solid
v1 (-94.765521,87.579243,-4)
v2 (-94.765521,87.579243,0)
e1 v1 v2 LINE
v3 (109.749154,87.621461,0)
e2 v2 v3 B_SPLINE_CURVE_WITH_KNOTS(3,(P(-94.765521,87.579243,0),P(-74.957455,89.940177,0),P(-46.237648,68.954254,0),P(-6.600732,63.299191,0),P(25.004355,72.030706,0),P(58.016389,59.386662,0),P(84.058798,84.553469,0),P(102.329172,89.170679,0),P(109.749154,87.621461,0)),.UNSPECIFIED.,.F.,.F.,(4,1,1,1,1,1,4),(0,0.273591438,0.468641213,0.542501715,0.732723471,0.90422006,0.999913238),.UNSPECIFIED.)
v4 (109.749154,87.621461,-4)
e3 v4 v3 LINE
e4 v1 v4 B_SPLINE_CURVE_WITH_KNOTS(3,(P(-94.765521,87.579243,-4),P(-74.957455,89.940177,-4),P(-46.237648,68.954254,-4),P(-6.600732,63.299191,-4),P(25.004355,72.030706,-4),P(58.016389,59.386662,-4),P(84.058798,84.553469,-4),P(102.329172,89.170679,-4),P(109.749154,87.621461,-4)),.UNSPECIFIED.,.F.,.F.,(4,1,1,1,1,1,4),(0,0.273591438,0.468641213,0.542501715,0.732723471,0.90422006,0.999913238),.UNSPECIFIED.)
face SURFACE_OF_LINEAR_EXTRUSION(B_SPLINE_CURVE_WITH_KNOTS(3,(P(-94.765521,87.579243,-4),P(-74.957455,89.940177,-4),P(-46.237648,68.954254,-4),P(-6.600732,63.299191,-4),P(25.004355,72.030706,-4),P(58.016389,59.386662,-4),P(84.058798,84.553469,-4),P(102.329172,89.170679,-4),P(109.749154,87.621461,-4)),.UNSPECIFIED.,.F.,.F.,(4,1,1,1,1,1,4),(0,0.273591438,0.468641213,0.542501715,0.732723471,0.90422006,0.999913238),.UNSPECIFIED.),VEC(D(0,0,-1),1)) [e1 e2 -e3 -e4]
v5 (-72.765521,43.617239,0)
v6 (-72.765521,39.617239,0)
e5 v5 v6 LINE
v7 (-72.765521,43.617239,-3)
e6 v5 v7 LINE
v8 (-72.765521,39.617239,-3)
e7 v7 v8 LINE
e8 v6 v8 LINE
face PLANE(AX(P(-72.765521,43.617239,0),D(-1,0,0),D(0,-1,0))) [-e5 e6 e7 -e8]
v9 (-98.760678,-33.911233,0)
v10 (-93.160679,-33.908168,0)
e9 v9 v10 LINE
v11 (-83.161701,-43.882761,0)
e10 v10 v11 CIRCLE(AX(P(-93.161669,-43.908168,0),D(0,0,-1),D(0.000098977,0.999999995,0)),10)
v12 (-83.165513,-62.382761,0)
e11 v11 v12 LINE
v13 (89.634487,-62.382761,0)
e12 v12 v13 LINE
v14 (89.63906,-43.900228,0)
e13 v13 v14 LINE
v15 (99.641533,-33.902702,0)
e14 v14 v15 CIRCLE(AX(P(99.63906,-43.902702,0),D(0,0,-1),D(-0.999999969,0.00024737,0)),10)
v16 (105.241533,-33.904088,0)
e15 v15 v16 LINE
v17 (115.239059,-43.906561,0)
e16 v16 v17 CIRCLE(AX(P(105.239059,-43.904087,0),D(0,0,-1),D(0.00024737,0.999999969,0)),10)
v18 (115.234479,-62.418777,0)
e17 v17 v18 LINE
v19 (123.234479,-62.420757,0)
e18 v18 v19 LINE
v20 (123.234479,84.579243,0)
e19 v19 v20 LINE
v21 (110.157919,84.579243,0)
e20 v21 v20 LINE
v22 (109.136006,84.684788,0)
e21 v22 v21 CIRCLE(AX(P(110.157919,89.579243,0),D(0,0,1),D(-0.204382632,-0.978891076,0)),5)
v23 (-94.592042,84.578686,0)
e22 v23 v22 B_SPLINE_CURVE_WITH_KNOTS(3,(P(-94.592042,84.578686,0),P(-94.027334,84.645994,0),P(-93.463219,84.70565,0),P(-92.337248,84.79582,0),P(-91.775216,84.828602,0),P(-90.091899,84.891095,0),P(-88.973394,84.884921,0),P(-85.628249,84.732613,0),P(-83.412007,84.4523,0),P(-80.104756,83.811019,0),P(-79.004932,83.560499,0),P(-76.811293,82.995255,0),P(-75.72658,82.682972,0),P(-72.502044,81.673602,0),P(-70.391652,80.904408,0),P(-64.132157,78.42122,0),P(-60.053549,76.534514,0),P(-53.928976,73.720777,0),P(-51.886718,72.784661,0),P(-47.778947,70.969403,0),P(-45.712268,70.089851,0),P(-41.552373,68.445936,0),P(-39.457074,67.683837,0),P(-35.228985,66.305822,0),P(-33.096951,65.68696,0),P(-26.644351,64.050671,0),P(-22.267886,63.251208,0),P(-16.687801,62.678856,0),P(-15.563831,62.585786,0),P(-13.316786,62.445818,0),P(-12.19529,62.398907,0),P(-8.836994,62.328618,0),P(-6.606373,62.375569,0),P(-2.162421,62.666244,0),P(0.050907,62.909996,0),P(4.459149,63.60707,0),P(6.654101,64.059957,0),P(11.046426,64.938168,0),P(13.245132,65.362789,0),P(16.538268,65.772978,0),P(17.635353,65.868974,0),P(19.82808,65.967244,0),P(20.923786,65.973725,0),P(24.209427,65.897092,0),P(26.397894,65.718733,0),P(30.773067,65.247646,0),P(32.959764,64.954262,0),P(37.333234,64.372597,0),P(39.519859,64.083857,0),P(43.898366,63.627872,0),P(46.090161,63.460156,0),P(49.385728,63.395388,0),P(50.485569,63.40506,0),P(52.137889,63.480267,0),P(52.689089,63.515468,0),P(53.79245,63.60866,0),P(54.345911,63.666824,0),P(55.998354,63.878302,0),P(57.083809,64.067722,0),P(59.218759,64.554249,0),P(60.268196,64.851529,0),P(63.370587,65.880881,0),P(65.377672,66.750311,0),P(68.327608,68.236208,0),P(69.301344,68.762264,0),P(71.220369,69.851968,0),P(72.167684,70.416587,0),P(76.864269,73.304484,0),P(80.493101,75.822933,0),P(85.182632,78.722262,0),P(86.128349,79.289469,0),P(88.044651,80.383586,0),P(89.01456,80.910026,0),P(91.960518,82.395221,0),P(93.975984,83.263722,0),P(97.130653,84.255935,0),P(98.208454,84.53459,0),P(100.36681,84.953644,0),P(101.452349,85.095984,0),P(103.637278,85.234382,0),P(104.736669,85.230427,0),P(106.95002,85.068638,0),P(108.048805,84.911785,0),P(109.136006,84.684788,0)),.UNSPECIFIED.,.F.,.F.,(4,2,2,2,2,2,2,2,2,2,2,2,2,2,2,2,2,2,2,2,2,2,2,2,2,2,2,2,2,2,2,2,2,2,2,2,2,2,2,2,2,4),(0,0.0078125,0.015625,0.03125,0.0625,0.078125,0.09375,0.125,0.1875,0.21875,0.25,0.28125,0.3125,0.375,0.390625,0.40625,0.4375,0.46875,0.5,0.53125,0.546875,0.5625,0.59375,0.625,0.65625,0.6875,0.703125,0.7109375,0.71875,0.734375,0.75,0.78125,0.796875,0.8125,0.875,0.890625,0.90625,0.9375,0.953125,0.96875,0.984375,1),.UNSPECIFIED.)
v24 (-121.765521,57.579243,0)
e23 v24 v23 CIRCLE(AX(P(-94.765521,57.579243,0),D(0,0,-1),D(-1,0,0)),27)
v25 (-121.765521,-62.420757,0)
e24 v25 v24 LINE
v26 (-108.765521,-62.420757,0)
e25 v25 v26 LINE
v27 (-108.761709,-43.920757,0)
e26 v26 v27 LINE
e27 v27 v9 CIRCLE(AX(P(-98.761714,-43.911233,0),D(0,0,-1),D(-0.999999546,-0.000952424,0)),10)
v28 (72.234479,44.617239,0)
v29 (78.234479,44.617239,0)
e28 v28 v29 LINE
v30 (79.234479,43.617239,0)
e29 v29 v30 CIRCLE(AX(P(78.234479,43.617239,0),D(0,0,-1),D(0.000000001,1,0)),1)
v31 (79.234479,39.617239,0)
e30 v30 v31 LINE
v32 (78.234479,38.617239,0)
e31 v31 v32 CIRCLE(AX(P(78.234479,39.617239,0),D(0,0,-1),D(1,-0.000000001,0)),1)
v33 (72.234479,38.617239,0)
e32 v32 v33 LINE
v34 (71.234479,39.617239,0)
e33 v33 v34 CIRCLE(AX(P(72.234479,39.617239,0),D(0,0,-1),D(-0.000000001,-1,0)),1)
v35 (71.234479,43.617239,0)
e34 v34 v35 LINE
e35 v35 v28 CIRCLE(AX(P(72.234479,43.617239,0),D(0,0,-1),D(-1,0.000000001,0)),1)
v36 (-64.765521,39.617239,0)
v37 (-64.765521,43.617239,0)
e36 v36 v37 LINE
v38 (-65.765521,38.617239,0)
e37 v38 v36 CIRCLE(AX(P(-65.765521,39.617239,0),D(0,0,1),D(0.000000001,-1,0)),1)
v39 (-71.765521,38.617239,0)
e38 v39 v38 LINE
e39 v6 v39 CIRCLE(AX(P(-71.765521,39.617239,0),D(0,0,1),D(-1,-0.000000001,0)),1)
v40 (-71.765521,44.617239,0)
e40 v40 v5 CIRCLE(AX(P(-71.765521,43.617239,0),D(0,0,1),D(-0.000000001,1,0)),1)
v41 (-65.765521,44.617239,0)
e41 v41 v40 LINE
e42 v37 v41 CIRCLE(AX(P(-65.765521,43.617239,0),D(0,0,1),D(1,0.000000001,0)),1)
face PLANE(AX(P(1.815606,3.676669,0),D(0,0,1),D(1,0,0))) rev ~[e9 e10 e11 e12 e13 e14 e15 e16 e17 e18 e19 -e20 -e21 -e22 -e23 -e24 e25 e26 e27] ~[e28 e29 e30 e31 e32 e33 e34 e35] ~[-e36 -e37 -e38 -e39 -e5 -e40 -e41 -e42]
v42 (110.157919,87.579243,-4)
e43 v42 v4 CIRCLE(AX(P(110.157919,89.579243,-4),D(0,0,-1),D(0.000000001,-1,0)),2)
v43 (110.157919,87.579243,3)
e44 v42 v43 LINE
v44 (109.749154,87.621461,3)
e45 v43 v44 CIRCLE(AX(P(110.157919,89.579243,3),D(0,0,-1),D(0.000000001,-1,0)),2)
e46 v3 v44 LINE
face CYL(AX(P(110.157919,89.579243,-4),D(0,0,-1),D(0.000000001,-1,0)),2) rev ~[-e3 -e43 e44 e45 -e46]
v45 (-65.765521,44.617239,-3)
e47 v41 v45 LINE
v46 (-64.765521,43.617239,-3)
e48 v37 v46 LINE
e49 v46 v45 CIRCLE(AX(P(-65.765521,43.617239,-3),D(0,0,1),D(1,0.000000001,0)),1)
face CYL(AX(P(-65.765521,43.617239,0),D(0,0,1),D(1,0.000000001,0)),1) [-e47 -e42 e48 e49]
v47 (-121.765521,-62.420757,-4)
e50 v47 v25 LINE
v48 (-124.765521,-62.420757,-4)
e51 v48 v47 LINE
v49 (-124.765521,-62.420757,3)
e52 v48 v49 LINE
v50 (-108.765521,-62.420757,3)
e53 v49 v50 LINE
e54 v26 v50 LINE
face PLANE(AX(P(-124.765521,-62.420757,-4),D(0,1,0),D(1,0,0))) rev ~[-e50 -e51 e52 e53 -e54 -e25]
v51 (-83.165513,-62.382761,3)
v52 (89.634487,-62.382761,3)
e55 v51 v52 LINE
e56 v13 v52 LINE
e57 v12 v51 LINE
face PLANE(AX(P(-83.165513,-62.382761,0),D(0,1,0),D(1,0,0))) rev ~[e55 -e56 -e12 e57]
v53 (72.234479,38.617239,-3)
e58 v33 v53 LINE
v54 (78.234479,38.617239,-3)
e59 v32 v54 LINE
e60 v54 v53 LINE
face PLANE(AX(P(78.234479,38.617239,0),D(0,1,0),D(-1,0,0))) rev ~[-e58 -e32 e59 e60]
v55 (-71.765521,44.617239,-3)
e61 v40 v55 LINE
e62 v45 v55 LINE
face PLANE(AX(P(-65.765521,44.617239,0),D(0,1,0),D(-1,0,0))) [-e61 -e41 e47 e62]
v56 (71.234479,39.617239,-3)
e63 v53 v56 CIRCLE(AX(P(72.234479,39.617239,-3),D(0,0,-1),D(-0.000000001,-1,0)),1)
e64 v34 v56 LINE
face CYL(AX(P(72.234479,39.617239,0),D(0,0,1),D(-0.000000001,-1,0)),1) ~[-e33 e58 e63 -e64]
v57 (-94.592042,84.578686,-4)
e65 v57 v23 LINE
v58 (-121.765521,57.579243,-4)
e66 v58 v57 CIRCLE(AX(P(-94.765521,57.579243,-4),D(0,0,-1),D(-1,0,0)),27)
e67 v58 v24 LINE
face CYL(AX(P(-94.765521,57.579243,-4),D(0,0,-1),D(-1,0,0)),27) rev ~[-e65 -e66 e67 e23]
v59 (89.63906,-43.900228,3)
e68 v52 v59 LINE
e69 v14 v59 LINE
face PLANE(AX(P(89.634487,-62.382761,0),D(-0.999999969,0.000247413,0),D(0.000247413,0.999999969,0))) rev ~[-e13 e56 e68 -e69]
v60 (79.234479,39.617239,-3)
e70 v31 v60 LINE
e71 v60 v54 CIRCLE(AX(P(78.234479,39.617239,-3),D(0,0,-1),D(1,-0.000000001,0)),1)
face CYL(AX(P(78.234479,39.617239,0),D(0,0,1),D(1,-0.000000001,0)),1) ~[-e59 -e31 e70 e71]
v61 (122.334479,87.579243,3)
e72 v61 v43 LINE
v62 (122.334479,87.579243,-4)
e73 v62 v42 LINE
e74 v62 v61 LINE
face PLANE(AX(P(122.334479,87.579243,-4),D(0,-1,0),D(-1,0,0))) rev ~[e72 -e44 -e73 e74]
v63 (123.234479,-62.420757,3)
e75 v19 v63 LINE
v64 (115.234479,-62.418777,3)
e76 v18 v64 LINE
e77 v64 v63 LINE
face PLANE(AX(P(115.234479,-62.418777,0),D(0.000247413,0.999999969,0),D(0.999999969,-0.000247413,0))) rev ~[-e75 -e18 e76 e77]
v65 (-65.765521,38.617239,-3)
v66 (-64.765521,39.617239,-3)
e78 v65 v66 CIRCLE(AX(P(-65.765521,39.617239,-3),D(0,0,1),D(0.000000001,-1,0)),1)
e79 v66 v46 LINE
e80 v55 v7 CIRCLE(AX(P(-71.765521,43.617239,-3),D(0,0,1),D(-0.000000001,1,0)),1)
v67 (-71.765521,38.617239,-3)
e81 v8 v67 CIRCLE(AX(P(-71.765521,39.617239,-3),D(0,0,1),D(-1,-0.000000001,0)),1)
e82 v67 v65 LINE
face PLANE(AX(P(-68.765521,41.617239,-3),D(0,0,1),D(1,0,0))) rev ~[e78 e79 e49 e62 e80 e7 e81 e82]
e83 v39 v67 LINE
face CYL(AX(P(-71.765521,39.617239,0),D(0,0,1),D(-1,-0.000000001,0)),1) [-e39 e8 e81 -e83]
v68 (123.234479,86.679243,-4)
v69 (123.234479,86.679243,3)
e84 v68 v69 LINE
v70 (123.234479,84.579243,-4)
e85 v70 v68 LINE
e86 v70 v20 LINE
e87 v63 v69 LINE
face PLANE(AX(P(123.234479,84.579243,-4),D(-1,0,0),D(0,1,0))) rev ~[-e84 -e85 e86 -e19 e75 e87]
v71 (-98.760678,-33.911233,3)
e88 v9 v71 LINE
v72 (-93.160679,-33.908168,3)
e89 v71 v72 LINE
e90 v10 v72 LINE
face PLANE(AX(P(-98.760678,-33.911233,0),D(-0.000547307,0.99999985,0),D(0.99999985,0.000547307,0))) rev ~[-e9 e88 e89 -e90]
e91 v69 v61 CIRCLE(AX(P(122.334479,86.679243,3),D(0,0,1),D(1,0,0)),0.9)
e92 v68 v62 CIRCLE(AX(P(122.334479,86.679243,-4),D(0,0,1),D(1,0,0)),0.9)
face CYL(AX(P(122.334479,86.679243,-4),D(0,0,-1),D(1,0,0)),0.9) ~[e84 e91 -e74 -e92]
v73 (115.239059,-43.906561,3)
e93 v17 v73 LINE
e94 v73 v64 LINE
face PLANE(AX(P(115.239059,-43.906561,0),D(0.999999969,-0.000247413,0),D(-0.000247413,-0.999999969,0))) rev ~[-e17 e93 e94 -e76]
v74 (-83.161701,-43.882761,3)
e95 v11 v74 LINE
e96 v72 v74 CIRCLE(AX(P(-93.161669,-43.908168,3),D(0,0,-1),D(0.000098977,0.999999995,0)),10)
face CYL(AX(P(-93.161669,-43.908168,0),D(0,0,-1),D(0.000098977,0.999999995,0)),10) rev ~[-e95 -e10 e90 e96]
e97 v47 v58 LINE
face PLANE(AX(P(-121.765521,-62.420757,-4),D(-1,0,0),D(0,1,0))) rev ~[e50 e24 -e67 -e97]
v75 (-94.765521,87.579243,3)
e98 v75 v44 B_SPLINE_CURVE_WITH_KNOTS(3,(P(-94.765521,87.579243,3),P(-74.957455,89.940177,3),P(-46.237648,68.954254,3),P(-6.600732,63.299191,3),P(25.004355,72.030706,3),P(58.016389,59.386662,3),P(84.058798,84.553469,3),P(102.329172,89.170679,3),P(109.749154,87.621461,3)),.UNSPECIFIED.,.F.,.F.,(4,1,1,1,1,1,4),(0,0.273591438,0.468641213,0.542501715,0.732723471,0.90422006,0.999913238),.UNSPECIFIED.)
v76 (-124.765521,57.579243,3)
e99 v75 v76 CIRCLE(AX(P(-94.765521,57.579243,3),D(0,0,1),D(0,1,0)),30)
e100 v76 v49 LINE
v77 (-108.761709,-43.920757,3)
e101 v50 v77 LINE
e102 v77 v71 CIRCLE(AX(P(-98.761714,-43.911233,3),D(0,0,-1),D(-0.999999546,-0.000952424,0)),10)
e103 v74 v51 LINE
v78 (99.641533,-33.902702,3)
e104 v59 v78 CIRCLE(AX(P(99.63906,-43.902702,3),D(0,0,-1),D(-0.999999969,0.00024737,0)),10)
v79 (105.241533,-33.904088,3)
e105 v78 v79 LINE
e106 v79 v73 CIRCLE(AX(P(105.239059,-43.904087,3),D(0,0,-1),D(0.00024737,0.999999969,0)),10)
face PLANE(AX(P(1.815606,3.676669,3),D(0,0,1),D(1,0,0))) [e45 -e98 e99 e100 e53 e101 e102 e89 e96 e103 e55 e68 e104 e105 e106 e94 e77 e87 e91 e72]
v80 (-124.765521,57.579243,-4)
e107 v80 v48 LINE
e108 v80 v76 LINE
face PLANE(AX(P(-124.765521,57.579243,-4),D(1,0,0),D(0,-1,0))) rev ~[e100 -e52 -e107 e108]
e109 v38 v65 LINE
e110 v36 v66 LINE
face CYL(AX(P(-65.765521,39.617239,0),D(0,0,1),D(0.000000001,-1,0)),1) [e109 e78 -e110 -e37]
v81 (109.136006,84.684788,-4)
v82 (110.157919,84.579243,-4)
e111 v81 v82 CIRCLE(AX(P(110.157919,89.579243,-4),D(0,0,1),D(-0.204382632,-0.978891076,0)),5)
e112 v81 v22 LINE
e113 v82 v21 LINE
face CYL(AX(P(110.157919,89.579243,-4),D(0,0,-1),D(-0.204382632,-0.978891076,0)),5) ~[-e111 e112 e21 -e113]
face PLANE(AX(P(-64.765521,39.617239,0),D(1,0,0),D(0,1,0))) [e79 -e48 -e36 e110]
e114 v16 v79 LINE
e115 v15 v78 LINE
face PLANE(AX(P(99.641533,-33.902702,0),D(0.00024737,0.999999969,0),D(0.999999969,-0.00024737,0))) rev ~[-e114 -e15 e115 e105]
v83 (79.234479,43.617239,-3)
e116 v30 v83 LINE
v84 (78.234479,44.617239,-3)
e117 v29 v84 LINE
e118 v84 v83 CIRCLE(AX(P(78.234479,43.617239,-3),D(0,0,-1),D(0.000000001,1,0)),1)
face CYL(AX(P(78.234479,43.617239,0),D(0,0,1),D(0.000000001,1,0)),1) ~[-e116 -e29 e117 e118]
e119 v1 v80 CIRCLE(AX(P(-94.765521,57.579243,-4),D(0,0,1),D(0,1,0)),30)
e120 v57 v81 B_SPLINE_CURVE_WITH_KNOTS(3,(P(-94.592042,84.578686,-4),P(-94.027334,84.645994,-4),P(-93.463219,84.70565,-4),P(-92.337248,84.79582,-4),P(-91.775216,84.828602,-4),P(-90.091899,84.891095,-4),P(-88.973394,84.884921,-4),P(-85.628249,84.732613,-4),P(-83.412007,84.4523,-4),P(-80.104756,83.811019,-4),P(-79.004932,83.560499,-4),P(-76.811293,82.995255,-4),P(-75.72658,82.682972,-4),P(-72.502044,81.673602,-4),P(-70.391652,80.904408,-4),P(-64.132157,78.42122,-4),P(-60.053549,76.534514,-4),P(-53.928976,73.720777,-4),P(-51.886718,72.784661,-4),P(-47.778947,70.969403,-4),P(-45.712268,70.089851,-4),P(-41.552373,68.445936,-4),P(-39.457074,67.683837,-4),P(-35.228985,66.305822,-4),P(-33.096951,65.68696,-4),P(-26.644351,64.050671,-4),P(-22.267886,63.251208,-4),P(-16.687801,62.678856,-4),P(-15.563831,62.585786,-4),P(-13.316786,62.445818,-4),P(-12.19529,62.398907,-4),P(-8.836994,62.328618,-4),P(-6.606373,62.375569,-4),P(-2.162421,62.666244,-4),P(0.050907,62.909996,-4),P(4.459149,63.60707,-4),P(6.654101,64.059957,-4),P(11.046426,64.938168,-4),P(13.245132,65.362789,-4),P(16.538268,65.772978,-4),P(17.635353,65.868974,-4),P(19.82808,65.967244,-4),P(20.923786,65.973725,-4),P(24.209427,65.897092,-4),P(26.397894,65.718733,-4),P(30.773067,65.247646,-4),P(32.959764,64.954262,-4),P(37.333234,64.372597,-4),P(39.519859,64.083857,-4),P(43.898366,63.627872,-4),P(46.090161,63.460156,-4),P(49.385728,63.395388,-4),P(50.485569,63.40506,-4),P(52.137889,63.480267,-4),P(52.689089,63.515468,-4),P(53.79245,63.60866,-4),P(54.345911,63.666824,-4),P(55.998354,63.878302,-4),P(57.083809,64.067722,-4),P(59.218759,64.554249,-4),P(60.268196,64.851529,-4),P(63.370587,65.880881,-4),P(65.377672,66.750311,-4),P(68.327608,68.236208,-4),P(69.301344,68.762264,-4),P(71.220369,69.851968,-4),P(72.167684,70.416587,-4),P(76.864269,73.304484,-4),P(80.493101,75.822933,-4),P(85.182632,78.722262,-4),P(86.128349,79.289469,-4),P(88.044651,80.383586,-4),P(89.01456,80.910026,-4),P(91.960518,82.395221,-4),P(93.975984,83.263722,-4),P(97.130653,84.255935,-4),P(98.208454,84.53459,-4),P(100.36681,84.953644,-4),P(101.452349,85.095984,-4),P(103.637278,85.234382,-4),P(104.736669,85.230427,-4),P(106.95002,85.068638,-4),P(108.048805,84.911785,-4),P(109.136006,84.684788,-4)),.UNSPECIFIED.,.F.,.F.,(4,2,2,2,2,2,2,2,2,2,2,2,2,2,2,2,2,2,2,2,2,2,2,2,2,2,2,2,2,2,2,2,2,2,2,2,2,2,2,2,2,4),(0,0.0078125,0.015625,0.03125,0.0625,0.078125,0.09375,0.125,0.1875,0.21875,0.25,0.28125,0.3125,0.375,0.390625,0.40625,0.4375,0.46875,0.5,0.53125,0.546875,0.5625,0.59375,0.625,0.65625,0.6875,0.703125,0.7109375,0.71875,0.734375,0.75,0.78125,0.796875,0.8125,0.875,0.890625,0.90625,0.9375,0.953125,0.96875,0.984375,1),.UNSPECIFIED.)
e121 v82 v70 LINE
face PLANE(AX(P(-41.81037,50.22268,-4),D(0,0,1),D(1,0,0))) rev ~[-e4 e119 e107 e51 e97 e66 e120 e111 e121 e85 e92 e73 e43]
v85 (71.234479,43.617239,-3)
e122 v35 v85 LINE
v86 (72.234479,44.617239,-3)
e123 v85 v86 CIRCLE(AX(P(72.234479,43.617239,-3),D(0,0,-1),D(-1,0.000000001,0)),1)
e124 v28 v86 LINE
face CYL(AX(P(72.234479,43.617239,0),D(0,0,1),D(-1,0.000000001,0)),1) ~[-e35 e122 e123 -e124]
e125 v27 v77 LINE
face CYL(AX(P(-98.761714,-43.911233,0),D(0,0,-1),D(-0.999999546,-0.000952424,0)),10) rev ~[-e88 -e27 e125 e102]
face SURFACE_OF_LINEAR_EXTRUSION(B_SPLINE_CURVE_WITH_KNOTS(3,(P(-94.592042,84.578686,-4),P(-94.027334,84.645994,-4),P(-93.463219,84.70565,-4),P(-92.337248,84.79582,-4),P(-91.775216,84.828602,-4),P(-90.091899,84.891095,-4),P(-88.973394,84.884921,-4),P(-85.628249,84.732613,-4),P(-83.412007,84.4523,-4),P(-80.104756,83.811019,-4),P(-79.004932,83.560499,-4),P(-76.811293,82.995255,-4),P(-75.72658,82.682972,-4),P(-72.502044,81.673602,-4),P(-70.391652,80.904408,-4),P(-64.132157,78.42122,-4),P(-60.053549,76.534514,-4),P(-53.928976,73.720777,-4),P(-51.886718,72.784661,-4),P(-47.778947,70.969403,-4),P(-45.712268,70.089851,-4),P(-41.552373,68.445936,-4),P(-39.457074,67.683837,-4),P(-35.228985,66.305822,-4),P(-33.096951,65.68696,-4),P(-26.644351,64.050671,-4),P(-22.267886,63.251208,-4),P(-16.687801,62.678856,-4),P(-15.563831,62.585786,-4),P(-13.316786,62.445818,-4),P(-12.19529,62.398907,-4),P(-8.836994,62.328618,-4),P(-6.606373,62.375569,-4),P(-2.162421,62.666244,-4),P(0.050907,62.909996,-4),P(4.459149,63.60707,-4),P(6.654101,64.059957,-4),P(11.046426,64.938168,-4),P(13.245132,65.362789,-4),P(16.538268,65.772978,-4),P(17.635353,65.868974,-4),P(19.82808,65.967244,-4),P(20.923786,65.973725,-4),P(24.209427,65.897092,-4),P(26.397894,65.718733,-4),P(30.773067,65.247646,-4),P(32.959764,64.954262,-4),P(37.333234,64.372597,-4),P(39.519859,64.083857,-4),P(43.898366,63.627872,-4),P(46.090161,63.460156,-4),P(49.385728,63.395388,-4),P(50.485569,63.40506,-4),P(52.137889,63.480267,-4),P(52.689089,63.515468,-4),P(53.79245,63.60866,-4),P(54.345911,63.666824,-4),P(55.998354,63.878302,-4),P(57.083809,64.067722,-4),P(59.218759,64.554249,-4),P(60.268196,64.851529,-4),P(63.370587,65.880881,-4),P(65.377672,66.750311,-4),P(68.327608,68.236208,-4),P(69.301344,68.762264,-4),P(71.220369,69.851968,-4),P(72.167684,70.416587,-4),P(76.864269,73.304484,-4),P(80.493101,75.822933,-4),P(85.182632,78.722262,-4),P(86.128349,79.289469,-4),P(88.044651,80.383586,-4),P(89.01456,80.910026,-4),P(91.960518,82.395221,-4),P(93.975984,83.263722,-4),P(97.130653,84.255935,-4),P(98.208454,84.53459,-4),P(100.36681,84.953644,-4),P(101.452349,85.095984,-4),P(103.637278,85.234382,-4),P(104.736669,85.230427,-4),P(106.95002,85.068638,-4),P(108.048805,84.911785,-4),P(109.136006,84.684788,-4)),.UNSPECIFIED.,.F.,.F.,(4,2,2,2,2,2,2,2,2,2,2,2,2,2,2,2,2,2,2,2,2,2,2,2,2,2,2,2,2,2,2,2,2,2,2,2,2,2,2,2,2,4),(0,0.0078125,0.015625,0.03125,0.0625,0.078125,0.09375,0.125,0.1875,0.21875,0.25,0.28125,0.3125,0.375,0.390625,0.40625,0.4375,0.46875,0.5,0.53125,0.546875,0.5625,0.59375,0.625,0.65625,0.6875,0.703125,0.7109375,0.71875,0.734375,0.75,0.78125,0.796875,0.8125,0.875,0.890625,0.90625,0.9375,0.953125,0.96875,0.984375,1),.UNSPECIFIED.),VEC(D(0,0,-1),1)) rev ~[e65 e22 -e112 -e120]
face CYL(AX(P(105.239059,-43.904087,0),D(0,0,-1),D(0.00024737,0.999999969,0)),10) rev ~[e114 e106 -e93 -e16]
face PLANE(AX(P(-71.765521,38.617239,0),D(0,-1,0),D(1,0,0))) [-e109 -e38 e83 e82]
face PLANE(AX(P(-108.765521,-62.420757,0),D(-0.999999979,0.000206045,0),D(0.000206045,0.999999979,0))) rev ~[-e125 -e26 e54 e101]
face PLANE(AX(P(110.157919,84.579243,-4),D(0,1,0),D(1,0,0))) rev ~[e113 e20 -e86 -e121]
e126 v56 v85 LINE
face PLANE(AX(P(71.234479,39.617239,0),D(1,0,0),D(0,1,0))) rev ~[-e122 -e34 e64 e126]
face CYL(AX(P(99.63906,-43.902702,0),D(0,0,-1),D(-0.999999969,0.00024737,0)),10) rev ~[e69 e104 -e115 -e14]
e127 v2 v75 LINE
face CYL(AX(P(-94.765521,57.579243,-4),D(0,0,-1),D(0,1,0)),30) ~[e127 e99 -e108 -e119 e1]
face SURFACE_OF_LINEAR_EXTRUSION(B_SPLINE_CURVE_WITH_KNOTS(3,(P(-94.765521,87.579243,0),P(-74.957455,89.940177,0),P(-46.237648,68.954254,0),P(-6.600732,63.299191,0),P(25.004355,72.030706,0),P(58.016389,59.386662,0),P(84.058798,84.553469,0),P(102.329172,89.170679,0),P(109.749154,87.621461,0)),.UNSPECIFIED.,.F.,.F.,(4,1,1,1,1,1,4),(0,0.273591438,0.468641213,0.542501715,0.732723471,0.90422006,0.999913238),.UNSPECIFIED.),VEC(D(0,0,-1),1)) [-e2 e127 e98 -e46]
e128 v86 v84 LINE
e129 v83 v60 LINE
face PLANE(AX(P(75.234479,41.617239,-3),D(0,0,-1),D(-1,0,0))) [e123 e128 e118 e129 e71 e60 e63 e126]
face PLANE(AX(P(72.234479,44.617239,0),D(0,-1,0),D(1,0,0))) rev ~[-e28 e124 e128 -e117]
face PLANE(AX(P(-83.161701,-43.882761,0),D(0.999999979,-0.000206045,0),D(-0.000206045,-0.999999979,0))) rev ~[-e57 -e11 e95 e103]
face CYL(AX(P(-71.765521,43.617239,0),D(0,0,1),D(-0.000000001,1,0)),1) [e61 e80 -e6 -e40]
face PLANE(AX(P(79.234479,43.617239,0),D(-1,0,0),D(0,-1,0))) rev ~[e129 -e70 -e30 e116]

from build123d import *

# Parameters (mm, degrees)
BOSS_EXTRUDE1_DEPTH = 3
BOSS_EXTRUDE2_DEPTH = 3
BOSS_EXTRUDE5_START = 4
BOSS_EXTRUDE5_DEPTH = 4


with BuildPart() as part:
    # Sketch1 → Boss-Extrude1 (new body)
    with BuildSketch(Plane.XY):
        with BuildLine():
            Line((-124.765521303, -62.420756715), (-108.765521303, -62.420756715))
            Line((-108.765521303, -62.420756715), (-108.761709468, -43.920757107))
            ThreePointArc((-108.761709468, -43.920757107), (-105.835782296, -36.843166813), (-98.760678208, -33.911232925))
            Line((-98.760678208, -33.911232925), (-93.160679046, -33.908168006))
            ThreePointArc((-93.160679046, -33.908168006), (-86.099239047, -36.828472645), (-83.161701095, -43.882761045))
            Line((-83.161701095, -43.882761045), (-83.165512931, -62.382760652))
            Line((-83.165512931, -62.382760652), (89.634487069, -62.382760652))
            Line((89.634487069, -62.382760652), (89.639059879, -43.900228298))
            ThreePointArc((89.639059879, -43.900228298), (92.569741149, -36.829885233), (99.641533275, -33.902702306))
            Line((99.641533275, -33.902702306), (105.241533104, -33.904087579))
            ThreePointArc((105.241533104, -33.904087579), (112.311876169, -36.834768849), (115.239059096, -43.906560975))
            Line((115.239059096, -43.906560975), (115.234478942, -62.418777415))
            Line((115.234478942, -62.418777415), (123.234478697, -62.420756715))
            Line((123.234478697, -62.420756715), (123.234478697, 86.679243285))
            ThreePointArc((123.234478697, 86.679243285), (122.9708748, 87.315639388), (122.334478697, 87.579243285))
            Line((122.334478697, 87.579243285), (110.157919421, 87.579243285))
            ThreePointArc((110.157919421, 87.579243285), (109.9524496, 87.589825744), (109.749154155, 87.621461133))
            add(Edge.make_bspline(
                [(-94.765521303, 87.579243285), (-74.957455301, 89.940177419), (-46.2376476, 68.954253783), (-6.60073203, 63.299190552), (25.004355226, 72.030705776), (58.016388628, 59.38666161), (84.058797825, 84.553468887), (102.329172258, 89.170678891), (109.749154155, 87.621461133)],
                knots=[0, 0, 0, 0, 0.273591438, 0.468641213, 0.542501715, 0.732723471, 0.90422006, 0.999913238, 0.999913238, 0.999913238, 0.999913238], degree=3))
            ThreePointArc((-94.765521303, 87.579243285), (-115.978724739, 78.792446721), (-124.765521303, 57.579243285))
            Line((-124.765521303, 57.579243285), (-124.765521303, -62.420756715))
        make_face()
    extrude(amount=BOSS_EXTRUDE1_DEPTH)

    # Sketch2 → Boss-Extrude2 (add)
    with BuildSketch(Plane(origin=(0, 0, 0), x_dir=(-1, 0, 0), z_dir=(0, 0, -1))):
        with BuildLine():
            Line((65.765521304, 44.617239348), (71.765521304, 44.617239348))
            ThreePointArc((71.765521304, 44.617239348), (72.472628085, 44.324346129), (72.765521304, 43.617239348))
            Line((72.765521304, 43.617239348), (72.765521304, 39.617239348))
            ThreePointArc((72.765521304, 39.617239348), (72.472628085, 38.910132567), (71.765521304, 38.617239348))
            Line((71.765521304, 38.617239348), (65.765521304, 38.617239348))
            ThreePointArc((65.765521304, 38.617239348), (65.058414523, 38.910132567), (64.765521304, 39.617239348))
            Line((64.765521304, 39.617239348), (64.765521304, 43.617239348))
            ThreePointArc((64.765521304, 43.617239348), (65.058414523, 44.324346129), (65.765521304, 44.617239348))
        make_face()
        with BuildLine():
            Line((-79.234478696, 43.617239348), (-79.234478696, 39.617239348))
            ThreePointArc((-79.234478696, 39.617239348), (-78.941585477, 38.910132567), (-78.234478696, 38.617239348))
            Line((-78.234478696, 38.617239348), (-72.234478696, 38.617239348))
            ThreePointArc((-72.234478696, 38.617239348), (-71.527371915, 38.910132567), (-71.234478696, 39.617239348))
            Line((-71.234478696, 39.617239348), (-71.234478696, 43.617239348))
            ThreePointArc((-71.234478696, 43.617239348), (-71.527371915, 44.324346129), (-72.234478696, 44.617239348))
            Line((-72.234478696, 44.617239348), (-78.234478696, 44.617239348))
            ThreePointArc((-78.234478696, 44.617239348), (-78.941585477, 44.324346129), (-79.234478696, 43.617239348))
        make_face()
    extrude(amount=BOSS_EXTRUDE2_DEPTH)

    # Sketch3 → Boss-Extrude5 (add)
    with BuildSketch(Plane(origin=(0, 0, 0), x_dir=(-1, 0, 0), z_dir=(0, 0, -1)).offset(BOSS_EXTRUDE5_START)):
        with BuildLine():
            Line((-110.157919421, 84.579243285), (-120.234478697, 84.579243285))
            Line((-120.234478697, 84.579243285), (-123.234478697, 84.579243285))
            Line((-123.234478697, 84.579243285), (-123.234478697, 86.679243285))
            ThreePointArc((-123.234478697, 86.679243285), (-122.9708748, 87.315639388), (-122.334478697, 87.579243285))
            Line((-122.334478697, 87.579243285), (-110.157919421, 87.579243285))
            ThreePointArc((-110.157919421, 87.579243285), (-109.9524496, 87.589825744), (-109.749154155, 87.621461133))
            add(Edge.make_bspline(
                [(94.765521303, 87.579243285), (74.957455301, 89.940177419), (46.2376476, 68.954253783), (6.60073203, 63.299190552), (-25.004355226, 72.030705776), (-58.016388628, 59.38666161), (-84.058797825, 84.553468887), (-102.329172258, 89.170678891), (-109.749154155, 87.621461133)],
                knots=[0, 0, 0, 0, 0.273591438, 0.468641213, 0.542501715, 0.732723471, 0.90422006, 0.999913238, 0.999913238, 0.999913238, 0.999913238], degree=3))
            ThreePointArc((94.765521303, 87.579243285), (115.978724739, 78.792446721), (124.765521303, 57.579243285))
            Line((124.765521303, 57.579243285), (124.765521303, -62.420756715))
            Line((124.765521303, -62.420756715), (121.765521303, -62.420756715))
            Line((121.765521303, -62.420756715), (121.765521303, -59.420756715))
            Line((121.765521303, -59.420756715), (121.765521303, 57.579243285))
            ThreePointArc((121.765521303, 57.579243285), (113.795971322, 76.732362407), (94.59204189, 84.578685963))
            add(Edge.make_bspline(
                [(94.59204189, 84.578685963), (94.027334184, 84.64599378), (93.463219473, 84.705649858), (92.33724846, 84.795820483), (91.77521646, 84.828602168), (90.091898927, 84.891095083), (88.973394431, 84.884921011), (85.628249078, 84.732612919), (83.412006817, 84.452299932), (80.104755866, 83.811018944), (79.004932212, 83.560498553), (76.81129283, 82.995255315), (75.726580156, 82.682972493), (72.502043825, 81.673602297), (70.391652345, 80.904408494), (64.132156627, 78.421220067), (60.053549302, 76.534513761), (53.92897583, 73.720776846), (51.886718133, 72.784660837), (47.778947181, 70.969403035), (45.712268016, 70.0898512), (41.552372793, 68.445936347), (39.45707394, 67.683836563), (35.228985166, 66.305822351), (33.09695122, 65.686960226), (26.644351427, 64.050670969), (22.267885847, 63.251208359), (16.687800606, 62.678855788), (15.56383119, 62.585786287), (13.316785567, 62.445817879), (12.195290199, 62.398906989), (8.836993911, 62.328617547), (6.606372824, 62.375568599), (2.162421001, 62.666243548), (-0.050907189, 62.909996442), (-4.459148919, 63.607070175), (-6.654100587, 64.059957097), (-11.046425878, 64.938167897), (-13.245132, 65.362789293), (-16.538268215, 65.77297774), (-17.635353088, 65.868973619), (-19.828079765, 65.967244496), (-20.923786317, 65.973724718), (-24.209426682, 65.89709212), (-26.39789394, 65.718733271), (-30.773067437, 65.247645537), (-32.959763596, 64.954261923), (-37.333234472, 64.372596755), (-39.519858855, 64.083857412), (-43.898365974, 63.627871621), (-46.090160722, 63.460155549), (-49.38572835, 63.395387974), (-50.485568825, 63.405060058), (-52.137888511, 63.480266867), (-52.689088889, 63.515467765), (-53.792450439, 63.608659511), (-54.345911147, 63.666824331), (-55.998354384, 63.878302139), (-57.083809169, 64.067722381), (-59.2187587, 64.554249363), (-60.268195866, 64.851528536), (-63.370586667, 65.880880898), (-65.377672236, 66.750311325), (-68.327608131, 68.236207558), (-69.301343918, 68.76226389), (-71.220369253, 69.851967823), (-72.167683568, 70.4165874), (-76.864268772, 73.304483807), (-80.493101442, 75.822932572), (-85.182631647, 78.722261709), (-86.128348858, 79.289469419), (-88.044651029, 80.383586278), (-89.01455999, 80.910026033), (-91.960518496, 82.3952214), (-93.975984432, 83.263721559), (-97.130652753, 84.255935405), (-98.208454188, 84.534590379), (-100.366809822, 84.953643768), (-101.452349087, 85.09598358), (-103.63727797, 85.234381715), (-104.736668827, 85.230426953), (-106.950020265, 85.068638259), (-108.048805247, 84.911784564), (-109.136006255, 84.684787904)],
                knots=[0, 0, 0, 0, 0.0078125, 0.0078125, 0.015625, 0.015625, 0.03125, 0.03125, 0.0625, 0.0625, 0.078125, 0.078125, 0.09375, 0.09375, 0.125, 0.125, 0.1875, 0.1875, 0.21875, 0.21875, 0.25, 0.25, 0.28125, 0.28125, 0.3125, 0.3125, 0.375, 0.375, 0.390625, 0.390625, 0.40625, 0.40625, 0.4375, 0.4375, 0.46875, 0.46875, 0.5, 0.5, 0.53125, 0.53125, 0.546875, 0.546875, 0.5625, 0.5625, 0.59375, 0.59375, 0.625, 0.625, 0.65625, 0.65625, 0.6875, 0.6875, 0.703125, 0.703125, 0.7109375, 0.7109375, 0.71875, 0.71875, 0.734375, 0.734375, 0.75, 0.75, 0.78125, 0.78125, 0.796875, 0.796875, 0.8125, 0.8125, 0.875, 0.875, 0.890625, 0.890625, 0.90625, 0.90625, 0.9375, 0.9375, 0.953125, 0.953125, 0.96875, 0.96875, 0.984375, 0.984375, 1, 1, 1, 1], degree=3))
            ThreePointArc((-109.136006255, 84.684787904), (-109.644244868, 84.605699433), (-110.157919421, 84.579243285))
        make_face()
    extrude(amount=-BOSS_EXTRUDE5_DEPTH)


solid = part.part
